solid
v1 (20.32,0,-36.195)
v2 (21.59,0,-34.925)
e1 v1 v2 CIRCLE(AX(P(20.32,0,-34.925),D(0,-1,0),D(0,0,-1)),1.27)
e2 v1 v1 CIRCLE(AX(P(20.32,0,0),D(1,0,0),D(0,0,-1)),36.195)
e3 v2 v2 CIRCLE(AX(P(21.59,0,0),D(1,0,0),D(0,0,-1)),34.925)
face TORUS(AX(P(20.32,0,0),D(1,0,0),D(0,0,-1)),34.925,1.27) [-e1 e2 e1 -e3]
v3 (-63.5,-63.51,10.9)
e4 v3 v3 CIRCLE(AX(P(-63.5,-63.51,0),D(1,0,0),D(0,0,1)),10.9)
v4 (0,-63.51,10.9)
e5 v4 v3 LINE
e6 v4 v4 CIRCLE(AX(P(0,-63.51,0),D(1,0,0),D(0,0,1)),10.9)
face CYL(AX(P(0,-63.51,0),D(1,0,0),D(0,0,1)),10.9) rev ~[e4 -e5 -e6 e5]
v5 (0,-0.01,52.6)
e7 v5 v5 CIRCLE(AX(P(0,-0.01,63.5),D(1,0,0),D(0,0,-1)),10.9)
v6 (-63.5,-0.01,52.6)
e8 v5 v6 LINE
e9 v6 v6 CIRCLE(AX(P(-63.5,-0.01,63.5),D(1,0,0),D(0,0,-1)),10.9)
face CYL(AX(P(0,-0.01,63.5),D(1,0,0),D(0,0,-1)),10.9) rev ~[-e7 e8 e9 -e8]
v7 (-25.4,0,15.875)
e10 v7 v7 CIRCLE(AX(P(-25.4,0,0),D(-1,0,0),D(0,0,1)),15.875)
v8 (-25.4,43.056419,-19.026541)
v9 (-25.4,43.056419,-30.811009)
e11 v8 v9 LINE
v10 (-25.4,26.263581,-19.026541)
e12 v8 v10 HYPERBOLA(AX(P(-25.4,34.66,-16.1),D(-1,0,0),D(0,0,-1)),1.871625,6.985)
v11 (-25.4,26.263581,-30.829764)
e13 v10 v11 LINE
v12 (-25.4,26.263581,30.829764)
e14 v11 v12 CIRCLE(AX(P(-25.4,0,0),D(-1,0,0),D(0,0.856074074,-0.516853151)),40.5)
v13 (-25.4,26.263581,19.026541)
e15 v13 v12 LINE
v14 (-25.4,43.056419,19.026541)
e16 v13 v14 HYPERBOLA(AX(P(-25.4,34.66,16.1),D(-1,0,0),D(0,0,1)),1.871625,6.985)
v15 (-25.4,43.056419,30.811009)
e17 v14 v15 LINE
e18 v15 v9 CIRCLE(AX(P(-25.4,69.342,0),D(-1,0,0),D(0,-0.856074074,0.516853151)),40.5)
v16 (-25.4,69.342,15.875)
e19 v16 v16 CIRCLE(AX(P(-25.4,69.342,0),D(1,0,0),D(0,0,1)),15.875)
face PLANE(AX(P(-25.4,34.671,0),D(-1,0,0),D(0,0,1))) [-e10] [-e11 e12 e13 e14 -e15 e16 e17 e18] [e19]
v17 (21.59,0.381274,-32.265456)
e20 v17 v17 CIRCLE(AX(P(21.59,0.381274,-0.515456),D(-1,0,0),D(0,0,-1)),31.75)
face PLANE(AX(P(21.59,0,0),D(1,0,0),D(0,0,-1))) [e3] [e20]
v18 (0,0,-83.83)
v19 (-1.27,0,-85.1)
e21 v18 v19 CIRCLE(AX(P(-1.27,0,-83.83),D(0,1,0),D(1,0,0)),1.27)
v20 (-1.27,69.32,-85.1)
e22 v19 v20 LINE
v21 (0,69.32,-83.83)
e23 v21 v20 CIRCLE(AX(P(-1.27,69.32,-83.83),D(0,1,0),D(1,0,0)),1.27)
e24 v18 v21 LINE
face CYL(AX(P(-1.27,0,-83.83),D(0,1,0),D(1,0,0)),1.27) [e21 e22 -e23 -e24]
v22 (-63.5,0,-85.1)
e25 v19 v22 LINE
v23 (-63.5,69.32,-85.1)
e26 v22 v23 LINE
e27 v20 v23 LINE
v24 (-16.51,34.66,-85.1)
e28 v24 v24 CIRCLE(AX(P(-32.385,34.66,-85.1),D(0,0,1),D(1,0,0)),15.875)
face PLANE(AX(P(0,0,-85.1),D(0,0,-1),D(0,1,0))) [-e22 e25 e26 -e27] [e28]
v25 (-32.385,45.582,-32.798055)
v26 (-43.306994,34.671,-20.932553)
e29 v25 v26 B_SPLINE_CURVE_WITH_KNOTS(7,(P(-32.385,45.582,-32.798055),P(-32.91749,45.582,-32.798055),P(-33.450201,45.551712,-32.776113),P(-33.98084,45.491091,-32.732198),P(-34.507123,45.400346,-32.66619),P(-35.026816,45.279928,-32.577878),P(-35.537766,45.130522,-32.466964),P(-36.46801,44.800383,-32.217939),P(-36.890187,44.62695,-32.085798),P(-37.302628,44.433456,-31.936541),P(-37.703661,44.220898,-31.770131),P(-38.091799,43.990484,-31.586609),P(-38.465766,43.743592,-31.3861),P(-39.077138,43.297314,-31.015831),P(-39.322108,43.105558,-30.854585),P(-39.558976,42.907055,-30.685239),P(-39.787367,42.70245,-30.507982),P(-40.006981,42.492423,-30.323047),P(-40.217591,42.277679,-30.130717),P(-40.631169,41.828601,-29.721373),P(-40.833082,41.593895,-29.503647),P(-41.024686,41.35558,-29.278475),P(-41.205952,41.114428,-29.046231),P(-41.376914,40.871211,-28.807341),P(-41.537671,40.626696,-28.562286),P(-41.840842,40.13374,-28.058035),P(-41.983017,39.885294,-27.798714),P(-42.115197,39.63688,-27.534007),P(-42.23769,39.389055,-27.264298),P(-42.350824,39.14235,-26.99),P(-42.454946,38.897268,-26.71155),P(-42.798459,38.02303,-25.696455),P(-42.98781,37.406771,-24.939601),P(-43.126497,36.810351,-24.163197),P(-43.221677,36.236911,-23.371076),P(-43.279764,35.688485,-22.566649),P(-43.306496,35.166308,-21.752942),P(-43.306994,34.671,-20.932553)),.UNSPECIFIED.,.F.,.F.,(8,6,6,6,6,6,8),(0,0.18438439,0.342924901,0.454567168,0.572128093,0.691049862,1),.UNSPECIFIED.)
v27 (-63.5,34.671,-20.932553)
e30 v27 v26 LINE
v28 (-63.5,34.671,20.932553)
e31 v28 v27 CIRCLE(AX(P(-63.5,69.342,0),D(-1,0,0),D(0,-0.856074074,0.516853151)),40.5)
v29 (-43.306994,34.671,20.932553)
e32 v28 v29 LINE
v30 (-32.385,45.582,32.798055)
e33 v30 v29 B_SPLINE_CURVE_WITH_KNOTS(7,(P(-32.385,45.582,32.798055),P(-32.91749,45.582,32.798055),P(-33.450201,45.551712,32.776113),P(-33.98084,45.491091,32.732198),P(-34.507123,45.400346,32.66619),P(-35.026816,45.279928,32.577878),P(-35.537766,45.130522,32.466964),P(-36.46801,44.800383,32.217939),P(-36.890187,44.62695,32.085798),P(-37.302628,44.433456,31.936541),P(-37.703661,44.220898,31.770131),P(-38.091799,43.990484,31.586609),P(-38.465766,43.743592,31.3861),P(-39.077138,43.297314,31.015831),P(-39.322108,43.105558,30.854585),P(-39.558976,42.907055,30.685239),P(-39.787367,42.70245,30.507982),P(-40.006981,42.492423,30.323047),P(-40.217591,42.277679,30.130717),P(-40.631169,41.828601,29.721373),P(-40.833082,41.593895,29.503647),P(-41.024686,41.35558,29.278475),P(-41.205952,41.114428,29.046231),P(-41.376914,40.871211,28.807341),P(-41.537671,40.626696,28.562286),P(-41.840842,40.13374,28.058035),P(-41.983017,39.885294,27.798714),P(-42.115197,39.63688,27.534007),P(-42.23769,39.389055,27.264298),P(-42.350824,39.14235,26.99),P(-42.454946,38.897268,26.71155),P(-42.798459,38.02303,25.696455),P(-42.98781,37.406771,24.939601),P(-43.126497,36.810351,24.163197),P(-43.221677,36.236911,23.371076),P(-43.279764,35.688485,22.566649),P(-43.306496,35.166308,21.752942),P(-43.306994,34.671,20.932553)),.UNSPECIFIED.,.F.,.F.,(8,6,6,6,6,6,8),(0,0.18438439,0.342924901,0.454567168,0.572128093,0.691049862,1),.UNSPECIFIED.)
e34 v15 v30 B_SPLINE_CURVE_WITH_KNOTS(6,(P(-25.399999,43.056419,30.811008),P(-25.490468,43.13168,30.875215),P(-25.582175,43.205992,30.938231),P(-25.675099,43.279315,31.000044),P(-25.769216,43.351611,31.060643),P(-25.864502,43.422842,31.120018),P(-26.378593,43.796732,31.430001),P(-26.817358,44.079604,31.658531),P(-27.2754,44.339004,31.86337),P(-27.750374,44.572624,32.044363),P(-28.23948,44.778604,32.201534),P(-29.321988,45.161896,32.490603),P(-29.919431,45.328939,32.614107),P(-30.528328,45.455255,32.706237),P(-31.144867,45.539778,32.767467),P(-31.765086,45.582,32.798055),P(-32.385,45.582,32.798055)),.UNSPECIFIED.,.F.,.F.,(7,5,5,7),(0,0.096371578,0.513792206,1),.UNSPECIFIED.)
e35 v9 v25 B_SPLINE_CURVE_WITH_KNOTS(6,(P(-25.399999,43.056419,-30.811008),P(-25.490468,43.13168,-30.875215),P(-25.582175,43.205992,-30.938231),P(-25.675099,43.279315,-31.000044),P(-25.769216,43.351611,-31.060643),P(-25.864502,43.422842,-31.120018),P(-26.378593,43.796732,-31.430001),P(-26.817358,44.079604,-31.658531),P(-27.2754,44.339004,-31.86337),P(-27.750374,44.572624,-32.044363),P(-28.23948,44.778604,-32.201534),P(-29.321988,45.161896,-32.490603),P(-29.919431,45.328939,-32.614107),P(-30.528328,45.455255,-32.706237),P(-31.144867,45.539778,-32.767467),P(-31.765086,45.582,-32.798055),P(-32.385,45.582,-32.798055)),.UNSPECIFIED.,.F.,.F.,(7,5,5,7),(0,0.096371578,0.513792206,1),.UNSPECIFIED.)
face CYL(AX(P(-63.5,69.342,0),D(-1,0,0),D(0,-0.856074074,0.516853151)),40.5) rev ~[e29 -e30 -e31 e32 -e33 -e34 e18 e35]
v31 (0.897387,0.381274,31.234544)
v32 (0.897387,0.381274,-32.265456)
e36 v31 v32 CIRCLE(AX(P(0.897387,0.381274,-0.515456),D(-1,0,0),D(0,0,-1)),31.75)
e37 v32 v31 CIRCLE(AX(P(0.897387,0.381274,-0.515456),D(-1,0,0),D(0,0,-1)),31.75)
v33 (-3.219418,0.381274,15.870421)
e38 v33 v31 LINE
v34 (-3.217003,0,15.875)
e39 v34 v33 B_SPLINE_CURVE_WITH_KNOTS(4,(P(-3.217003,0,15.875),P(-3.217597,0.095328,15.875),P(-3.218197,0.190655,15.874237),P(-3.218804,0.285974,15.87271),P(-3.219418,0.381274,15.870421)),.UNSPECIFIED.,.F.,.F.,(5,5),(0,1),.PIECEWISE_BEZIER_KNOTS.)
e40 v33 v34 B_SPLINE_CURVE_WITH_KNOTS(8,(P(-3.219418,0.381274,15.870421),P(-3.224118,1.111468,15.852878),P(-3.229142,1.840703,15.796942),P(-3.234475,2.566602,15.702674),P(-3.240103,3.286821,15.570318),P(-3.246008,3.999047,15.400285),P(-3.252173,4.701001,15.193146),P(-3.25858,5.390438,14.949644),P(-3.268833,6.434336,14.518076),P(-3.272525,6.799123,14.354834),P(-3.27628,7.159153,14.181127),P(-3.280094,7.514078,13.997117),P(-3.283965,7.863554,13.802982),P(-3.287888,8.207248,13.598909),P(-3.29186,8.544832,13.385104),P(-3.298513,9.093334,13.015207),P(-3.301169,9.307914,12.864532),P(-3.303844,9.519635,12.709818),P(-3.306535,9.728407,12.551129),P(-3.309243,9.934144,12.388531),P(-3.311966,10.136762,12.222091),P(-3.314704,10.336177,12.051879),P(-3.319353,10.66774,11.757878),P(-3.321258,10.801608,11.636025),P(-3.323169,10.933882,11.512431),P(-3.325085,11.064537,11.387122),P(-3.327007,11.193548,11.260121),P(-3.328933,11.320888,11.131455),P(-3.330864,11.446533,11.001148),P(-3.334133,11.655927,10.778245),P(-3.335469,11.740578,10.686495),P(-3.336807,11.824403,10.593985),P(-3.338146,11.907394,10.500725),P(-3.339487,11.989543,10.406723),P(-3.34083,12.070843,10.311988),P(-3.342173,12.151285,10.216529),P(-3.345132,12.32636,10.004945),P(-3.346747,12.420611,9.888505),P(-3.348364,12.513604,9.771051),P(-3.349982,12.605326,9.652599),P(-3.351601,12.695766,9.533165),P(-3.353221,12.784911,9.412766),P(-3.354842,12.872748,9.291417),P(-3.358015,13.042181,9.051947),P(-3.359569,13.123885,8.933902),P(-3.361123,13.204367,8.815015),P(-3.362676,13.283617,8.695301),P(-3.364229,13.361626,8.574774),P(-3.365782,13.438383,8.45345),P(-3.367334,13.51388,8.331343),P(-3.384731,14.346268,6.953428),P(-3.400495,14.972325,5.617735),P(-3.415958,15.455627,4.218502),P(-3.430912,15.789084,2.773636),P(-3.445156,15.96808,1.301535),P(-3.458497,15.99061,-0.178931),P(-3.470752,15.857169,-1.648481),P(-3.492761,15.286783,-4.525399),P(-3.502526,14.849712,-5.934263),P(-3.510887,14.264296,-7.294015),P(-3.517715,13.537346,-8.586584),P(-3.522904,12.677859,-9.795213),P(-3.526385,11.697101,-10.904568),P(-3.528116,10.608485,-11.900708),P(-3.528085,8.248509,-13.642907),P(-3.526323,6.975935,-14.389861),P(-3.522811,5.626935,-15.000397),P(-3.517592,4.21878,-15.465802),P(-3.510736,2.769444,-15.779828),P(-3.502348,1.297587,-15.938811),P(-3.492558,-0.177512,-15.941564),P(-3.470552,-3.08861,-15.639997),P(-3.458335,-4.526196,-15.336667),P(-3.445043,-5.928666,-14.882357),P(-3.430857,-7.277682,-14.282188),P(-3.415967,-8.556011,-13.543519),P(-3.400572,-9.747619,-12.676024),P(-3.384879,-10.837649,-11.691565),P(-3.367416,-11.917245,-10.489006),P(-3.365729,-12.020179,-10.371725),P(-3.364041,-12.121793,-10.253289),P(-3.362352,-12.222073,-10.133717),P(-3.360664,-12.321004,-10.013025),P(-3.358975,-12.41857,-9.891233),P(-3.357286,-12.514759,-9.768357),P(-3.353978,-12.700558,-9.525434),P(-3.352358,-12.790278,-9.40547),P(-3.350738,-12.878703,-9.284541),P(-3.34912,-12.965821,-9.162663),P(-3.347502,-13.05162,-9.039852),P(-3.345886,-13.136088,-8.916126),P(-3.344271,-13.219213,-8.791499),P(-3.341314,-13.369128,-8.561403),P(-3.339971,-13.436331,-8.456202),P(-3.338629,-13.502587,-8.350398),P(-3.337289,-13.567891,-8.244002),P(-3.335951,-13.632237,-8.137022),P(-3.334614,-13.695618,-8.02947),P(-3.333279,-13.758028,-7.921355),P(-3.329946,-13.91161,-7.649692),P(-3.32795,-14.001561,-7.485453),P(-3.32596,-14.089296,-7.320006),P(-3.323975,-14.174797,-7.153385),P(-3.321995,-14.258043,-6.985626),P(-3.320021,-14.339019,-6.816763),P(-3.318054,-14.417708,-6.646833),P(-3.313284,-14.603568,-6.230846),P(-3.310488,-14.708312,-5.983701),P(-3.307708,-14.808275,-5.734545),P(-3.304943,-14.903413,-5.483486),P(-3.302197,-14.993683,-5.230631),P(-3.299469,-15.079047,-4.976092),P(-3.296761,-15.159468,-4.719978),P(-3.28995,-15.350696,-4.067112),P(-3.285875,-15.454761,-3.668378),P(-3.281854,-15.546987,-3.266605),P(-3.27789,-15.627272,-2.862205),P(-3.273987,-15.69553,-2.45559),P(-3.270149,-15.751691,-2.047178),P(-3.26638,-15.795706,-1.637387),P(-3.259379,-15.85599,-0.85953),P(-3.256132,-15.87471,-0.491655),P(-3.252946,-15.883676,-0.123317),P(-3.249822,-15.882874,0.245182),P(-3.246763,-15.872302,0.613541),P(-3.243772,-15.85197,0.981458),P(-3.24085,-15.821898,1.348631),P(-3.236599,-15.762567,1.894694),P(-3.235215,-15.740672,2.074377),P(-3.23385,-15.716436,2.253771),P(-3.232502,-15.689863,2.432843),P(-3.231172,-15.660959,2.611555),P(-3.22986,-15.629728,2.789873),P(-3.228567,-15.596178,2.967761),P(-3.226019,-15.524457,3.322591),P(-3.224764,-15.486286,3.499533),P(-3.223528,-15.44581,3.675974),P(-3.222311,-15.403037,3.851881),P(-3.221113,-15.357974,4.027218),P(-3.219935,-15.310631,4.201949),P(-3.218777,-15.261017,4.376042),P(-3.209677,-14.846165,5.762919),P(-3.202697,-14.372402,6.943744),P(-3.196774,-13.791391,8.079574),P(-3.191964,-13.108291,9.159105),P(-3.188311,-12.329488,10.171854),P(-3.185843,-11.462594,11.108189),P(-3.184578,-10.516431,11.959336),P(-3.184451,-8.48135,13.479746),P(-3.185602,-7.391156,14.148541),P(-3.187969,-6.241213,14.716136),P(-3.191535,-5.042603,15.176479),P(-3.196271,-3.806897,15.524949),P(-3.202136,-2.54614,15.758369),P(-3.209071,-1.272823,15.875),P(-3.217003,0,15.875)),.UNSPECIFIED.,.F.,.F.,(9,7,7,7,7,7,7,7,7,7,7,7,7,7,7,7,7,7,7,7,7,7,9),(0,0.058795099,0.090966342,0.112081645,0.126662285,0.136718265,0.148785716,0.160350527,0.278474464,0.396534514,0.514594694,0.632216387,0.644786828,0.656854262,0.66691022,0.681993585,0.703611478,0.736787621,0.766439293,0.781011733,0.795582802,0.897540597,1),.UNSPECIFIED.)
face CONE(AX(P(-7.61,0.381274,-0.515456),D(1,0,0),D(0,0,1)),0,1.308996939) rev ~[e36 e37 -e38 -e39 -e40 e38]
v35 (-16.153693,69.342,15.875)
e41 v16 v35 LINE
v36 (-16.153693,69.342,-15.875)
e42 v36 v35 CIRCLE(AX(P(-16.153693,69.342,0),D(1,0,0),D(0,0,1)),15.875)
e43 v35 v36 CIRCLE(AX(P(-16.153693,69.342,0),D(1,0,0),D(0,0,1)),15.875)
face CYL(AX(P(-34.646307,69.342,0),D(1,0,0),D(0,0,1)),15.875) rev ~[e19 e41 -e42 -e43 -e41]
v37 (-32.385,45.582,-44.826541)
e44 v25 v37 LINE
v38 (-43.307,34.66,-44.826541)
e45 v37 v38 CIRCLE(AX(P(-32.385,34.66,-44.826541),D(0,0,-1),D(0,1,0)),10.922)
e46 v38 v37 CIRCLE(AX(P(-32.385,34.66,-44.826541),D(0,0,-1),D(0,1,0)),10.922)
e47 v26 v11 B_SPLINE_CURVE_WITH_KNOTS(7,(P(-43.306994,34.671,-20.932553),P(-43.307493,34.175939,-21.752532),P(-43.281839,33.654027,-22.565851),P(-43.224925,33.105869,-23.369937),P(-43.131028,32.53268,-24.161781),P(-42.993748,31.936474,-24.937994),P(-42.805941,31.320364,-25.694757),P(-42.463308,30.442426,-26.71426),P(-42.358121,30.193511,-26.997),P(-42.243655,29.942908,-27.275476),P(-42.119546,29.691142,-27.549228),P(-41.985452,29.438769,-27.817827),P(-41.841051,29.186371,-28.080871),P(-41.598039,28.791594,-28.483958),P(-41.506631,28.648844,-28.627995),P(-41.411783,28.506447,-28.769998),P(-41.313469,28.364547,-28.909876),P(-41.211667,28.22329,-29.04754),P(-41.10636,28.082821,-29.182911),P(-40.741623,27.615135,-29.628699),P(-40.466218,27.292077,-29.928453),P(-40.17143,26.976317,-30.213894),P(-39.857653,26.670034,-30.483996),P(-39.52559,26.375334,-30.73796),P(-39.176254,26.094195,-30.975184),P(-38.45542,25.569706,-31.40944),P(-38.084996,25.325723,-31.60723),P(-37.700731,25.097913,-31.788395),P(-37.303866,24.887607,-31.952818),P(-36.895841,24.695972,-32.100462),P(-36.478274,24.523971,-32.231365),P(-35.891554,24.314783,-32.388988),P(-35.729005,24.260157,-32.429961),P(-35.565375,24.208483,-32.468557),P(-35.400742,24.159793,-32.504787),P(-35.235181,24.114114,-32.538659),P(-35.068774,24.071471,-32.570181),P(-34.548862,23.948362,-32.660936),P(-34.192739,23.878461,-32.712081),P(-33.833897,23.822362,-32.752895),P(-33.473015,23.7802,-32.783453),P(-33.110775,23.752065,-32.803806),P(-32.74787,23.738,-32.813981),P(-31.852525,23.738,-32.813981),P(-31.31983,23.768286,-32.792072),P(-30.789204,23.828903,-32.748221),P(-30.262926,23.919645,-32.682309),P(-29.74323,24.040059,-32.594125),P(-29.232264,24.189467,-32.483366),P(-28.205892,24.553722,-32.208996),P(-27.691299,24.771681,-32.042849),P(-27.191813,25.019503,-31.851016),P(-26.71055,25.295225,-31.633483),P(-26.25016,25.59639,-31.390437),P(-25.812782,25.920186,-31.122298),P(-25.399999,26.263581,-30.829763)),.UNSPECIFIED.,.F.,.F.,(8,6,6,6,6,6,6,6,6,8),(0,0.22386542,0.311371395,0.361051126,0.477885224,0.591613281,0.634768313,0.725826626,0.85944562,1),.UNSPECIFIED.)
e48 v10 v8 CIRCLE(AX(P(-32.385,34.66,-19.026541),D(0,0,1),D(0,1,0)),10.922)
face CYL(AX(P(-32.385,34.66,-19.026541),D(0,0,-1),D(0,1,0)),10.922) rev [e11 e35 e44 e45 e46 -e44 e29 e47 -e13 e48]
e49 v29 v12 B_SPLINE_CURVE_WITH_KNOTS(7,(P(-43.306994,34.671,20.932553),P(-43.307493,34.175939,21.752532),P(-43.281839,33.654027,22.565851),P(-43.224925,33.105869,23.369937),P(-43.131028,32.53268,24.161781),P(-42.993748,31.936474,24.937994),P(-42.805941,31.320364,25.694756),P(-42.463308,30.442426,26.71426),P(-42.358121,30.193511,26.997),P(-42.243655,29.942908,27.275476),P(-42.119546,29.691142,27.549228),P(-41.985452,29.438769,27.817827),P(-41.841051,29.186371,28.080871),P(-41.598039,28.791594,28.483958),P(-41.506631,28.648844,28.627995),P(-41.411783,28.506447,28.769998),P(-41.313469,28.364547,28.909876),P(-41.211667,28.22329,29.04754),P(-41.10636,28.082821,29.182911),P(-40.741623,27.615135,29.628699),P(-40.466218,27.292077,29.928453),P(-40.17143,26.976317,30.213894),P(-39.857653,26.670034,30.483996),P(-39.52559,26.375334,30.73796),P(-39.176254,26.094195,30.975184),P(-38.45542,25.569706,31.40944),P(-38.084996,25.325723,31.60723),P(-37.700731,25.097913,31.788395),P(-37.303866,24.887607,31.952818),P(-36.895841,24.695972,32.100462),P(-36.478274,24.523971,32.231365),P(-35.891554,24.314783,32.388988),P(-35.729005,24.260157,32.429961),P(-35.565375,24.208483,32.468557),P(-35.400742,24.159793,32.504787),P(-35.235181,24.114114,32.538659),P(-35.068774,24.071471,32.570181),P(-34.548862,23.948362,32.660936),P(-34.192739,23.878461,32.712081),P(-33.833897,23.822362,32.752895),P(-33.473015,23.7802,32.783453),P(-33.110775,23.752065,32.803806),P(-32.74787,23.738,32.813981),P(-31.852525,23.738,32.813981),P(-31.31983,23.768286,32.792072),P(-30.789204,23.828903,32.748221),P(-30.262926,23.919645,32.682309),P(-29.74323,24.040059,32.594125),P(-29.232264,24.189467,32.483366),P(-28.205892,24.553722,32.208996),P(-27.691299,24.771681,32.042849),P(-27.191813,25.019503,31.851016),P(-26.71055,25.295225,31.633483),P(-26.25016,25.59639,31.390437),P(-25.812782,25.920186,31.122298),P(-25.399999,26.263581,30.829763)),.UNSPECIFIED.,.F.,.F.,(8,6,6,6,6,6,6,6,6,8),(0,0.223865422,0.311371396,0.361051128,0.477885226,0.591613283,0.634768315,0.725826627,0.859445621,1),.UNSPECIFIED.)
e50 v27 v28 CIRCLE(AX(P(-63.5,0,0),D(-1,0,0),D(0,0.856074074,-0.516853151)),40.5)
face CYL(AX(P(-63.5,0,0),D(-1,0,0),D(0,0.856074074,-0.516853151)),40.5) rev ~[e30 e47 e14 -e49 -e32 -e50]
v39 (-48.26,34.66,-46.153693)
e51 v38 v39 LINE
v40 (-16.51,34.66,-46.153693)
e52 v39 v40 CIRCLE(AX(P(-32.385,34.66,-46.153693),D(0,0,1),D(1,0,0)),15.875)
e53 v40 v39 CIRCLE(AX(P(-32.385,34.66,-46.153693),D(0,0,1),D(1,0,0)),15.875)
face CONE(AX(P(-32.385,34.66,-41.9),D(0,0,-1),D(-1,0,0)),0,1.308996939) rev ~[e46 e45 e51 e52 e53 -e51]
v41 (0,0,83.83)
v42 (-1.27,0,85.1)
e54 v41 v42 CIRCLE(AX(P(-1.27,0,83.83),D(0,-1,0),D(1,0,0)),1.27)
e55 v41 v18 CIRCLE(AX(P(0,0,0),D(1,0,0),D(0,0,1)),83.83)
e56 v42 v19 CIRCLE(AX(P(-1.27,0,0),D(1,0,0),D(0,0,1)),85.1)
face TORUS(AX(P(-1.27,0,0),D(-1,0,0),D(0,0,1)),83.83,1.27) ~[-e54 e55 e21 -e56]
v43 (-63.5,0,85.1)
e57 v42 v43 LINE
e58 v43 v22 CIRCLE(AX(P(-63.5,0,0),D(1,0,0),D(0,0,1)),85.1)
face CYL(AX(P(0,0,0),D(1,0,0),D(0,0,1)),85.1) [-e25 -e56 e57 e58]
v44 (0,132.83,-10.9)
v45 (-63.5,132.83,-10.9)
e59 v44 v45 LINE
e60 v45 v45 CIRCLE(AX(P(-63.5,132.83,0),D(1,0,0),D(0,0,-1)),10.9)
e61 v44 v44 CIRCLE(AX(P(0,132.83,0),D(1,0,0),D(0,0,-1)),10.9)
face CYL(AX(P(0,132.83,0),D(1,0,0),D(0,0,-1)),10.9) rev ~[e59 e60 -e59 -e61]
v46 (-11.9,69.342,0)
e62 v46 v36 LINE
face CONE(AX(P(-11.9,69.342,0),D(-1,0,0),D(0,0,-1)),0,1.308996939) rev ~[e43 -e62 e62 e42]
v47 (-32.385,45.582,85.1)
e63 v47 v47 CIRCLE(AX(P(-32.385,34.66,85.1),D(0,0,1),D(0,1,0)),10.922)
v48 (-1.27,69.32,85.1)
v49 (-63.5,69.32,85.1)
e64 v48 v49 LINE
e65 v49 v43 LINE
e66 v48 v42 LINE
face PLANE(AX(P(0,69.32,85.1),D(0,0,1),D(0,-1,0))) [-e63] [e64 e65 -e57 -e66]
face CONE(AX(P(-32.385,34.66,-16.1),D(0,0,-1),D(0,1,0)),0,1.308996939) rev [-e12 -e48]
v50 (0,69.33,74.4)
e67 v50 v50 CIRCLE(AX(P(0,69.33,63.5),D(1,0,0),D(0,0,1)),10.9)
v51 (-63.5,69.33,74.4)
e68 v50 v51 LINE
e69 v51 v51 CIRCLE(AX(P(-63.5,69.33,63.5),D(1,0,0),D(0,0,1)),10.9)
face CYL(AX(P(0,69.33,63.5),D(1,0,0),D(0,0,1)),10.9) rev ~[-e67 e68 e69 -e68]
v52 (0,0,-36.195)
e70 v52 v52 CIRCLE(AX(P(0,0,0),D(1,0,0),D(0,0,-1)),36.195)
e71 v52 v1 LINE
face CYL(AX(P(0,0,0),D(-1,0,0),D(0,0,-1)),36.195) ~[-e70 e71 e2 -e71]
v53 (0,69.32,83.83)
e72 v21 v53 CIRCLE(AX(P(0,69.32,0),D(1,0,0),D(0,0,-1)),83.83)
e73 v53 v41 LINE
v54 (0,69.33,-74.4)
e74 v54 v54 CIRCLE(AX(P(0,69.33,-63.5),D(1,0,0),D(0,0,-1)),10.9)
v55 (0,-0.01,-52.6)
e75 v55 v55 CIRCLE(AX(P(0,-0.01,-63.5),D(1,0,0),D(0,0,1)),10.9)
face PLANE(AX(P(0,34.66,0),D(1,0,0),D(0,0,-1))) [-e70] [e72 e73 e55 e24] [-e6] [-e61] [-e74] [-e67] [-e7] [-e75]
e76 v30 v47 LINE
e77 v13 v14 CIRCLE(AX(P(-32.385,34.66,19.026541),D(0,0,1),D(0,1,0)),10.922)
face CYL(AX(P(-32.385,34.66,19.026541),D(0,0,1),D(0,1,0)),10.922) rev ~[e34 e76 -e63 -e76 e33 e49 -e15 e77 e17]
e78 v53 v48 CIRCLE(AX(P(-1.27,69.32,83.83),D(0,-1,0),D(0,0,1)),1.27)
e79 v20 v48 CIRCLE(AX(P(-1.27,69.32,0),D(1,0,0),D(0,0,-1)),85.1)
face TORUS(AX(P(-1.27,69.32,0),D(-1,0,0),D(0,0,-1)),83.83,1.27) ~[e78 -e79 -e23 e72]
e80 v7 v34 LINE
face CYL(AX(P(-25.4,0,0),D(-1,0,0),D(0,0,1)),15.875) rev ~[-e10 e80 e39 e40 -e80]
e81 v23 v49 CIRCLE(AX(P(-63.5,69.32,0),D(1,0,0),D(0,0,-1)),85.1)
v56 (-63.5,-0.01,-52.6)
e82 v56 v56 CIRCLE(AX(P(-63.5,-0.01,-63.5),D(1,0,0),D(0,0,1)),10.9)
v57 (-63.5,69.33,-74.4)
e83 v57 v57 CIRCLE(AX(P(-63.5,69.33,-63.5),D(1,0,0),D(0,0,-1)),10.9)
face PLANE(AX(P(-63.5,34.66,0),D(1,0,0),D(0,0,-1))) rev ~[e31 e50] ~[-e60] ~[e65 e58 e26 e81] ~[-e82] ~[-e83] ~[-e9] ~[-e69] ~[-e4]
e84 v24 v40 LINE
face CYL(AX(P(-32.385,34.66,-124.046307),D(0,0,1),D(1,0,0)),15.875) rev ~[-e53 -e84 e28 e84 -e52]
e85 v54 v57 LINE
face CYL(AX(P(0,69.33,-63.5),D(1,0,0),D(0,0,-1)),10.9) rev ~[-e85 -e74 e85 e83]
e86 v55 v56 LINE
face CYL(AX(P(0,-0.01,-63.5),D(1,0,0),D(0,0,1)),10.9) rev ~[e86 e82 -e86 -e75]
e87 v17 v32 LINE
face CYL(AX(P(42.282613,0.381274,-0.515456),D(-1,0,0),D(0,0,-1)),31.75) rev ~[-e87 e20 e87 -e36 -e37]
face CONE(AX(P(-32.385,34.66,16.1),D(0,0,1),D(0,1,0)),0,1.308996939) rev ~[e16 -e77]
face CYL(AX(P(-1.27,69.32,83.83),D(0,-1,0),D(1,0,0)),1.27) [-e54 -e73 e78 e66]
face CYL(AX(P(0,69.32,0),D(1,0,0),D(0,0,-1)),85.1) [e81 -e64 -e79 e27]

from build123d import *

# Parameters (mm, degrees)
BOSS_EXTRUDE1_DEPTH              = 63.5
SKETCH2_R                        = 10.9
CUT_EXTRUDE1_DEPTH               = 188.402765188
CUT_EXTRUDE2_DEPTH               = 38.1
SKETCH5_R                        = 36.195
BOSS_EXTRUDE2_DEPTH              = 21.59
F_97_2_5_DIAMETER_HOLE2_D        = 63.5
F_97_2_5_DIAMETER_HOLE2_DEPTH    = 20.69261314
F_97_2_5_DIAMETER_HOLE2_TIP      = 8.50738686
SKETCH11_R                       = 15.875
CUT_EXTRUDE3_DEPTH               = 183.470837396
F_97_1_25_DIAMETER_HOLE4_D       = 31.75
F_97_1_25_DIAMETER_HOLE4_DEPTH   = 9.24630657
F_97_1_25_DIAMETER_HOLE4_TIP     = 4.25369343
FILLET1_R                        = 1.27
F_1_16_1_25_DIAMETER_HOLE1_D     = 31.75
F_1_16_1_25_DIAMETER_HOLE1_DEPTH = 38.94630657
F_1_16_1_25_DIAMETER_HOLE1_TIP   = 4.25369343


with BuildPart() as part:
    # Sketch1 → Boss-Extrude1 (new body)
    with BuildSketch(Plane(origin=(0, 0, 0), x_dir=(0, 0, -1), z_dir=(1, 0, 0))):
        with BuildLine():
            Line((-85.1, 69.32), (-85.1, 0))
            ThreePointArc((-85.1, 0), (0, -85.1), (85.1, 0))
            Line((85.1, 0), (85.1, 69.32))
            ThreePointArc((85.1, 69.32), (0, 154.42), (-85.1, 69.32))
        make_face()
    extrude(amount=-BOSS_EXTRUDE1_DEPTH)

    # Sketch2 → Cut-Extrude1 (cut, through all)
    with BuildSketch(Plane(origin=(0, 0, 0), x_dir=(0, 0, -1), z_dir=(1, 0, 0))):
        with Locations((0, 132.83)):
            Circle(SKETCH2_R)
        with Locations((63.5, 69.33)):
            Circle(SKETCH2_R)
        with Locations(Location((-63.5, 69.33, 0), (0, 0, 180))):
            Circle(SKETCH2_R)
        with Locations(Location((63.5, -0.01, 0), (0, 0, 180))):
            Circle(SKETCH2_R)
        with Locations((-63.5, -0.01)):
            Circle(SKETCH2_R)
        with Locations(Location((0, -63.51, 0), (0, 0, 180))):
            Circle(SKETCH2_R)
    extrude(amount=-CUT_EXTRUDE1_DEPTH, mode=Mode.SUBTRACT)

    # Sketch3 → Cut-Extrude2 (cut)
    with BuildSketch(Plane.ZY.offset(63.5)):
        with BuildLine():
            ThreePointArc((-20.932552615, 34.671), (0, -40.5), (20.932552615, 34.671))
            ThreePointArc((20.932552615, 34.671), (0, 109.842), (-20.932552615, 34.671))
        make_face()
    extrude(amount=-CUT_EXTRUDE2_DEPTH, mode=Mode.SUBTRACT)

    # Sketch5 → Boss-Extrude2 (add)
    with BuildSketch(Plane(origin=(0, 0, 0), x_dir=(0, 0, -1), z_dir=(1, 0, 0))):
        Circle(SKETCH5_R)
    extrude(amount=BOSS_EXTRUDE2_DEPTH)

    # #97 (2.5) Diameter Hole2
    with Locations(Plane(origin=(21.59, 0.381274274, -0.515455507), x_dir=(0, 0, 1), z_dir=(1, 0, 0))):
        with Locations((0, 0)):
            Hole(F_97_2_5_DIAMETER_HOLE2_D / 2, depth=F_97_2_5_DIAMETER_HOLE2_DEPTH)
            with Locations((0, 0, -(F_97_2_5_DIAMETER_HOLE2_DEPTH + F_97_2_5_DIAMETER_HOLE2_TIP / 2))):  # 150° drill point
                Cone(0, F_97_2_5_DIAMETER_HOLE2_D / 2, F_97_2_5_DIAMETER_HOLE2_TIP, mode=Mode.SUBTRACT)

    # Sketch11 → Cut-Extrude3 (cut, through all)
    with BuildSketch(Plane.ZY.offset(25.4)):
        Circle(SKETCH11_R)
    extrude(amount=-CUT_EXTRUDE3_DEPTH, mode=Mode.SUBTRACT)

    # #97 (1.25) Diameter Hole4
    with Locations(Plane(origin=(-25.4, 69.342, 0), x_dir=(0, 0, -1), z_dir=(-1, 0, 0))):
        with Locations((0, 0)):
            Hole(F_97_1_25_DIAMETER_HOLE4_D / 2, depth=F_97_1_25_DIAMETER_HOLE4_DEPTH)
            with Locations((0, 0, -(F_97_1_25_DIAMETER_HOLE4_DEPTH + F_97_1_25_DIAMETER_HOLE4_TIP / 2))):  # 150° drill point
                Cone(0, F_97_1_25_DIAMETER_HOLE4_D / 2, F_97_1_25_DIAMETER_HOLE4_TIP, mode=Mode.SUBTRACT)

    # Fillet1
    fillet1_edges = [part.edges().sort_by_distance(p)[0] for p in [
        (0, 34.66, -85.1),
        (0, -85.1, 0),
        (0, 34.66, 85.1),
        (0, 154.42, 0),
        (21.59, 0, 36.195),
    ]]
    fillet(fillet1_edges, radius=FILLET1_R)

    # Sketch18 → 1/16 (0.86) Diameter Hole1 (revolve, cut)
    with BuildSketch(Plane(origin=(-32.385, 34.66, -85.1), x_dir=(0, 1, 0), z_dir=(1, 0, 0))):
        Polygon((0, 0), (0, 69), (10.922, 66.07345892), (10.922, 0), align=None)
    f_1_16_0_86_diameter_hole1 = revolve(axis=Axis((-32.385, 34.66, -91.45), (0, 0, 1)), mode=Mode.SUBTRACT)

    # Mirror1: 1/16 (0.86) Diameter Hole1 across plane
    add(f_1_16_0_86_diameter_hole1.mirror(Plane(origin=(0, 0, 0), x_dir=(1, 0, 0), z_dir=(0, 0, -1))), mode=Mode.SUBTRACT)

    # 1/16 (1.25) Diameter Hole1
    with Locations(Plane(origin=(-32.385, 34.66, -85.1), x_dir=(-1, 0, 0), z_dir=(0, 0, -1))):
        with Locations((0, 0)):
            Hole(F_1_16_1_25_DIAMETER_HOLE1_D / 2, depth=F_1_16_1_25_DIAMETER_HOLE1_DEPTH)
            with Locations((0, 0, -(F_1_16_1_25_DIAMETER_HOLE1_DEPTH + F_1_16_1_25_DIAMETER_HOLE1_TIP / 2))):  # 150° drill point
                Cone(0, F_1_16_1_25_DIAMETER_HOLE1_D / 2, F_1_16_1_25_DIAMETER_HOLE1_TIP, mode=Mode.SUBTRACT)


solid = part.part
